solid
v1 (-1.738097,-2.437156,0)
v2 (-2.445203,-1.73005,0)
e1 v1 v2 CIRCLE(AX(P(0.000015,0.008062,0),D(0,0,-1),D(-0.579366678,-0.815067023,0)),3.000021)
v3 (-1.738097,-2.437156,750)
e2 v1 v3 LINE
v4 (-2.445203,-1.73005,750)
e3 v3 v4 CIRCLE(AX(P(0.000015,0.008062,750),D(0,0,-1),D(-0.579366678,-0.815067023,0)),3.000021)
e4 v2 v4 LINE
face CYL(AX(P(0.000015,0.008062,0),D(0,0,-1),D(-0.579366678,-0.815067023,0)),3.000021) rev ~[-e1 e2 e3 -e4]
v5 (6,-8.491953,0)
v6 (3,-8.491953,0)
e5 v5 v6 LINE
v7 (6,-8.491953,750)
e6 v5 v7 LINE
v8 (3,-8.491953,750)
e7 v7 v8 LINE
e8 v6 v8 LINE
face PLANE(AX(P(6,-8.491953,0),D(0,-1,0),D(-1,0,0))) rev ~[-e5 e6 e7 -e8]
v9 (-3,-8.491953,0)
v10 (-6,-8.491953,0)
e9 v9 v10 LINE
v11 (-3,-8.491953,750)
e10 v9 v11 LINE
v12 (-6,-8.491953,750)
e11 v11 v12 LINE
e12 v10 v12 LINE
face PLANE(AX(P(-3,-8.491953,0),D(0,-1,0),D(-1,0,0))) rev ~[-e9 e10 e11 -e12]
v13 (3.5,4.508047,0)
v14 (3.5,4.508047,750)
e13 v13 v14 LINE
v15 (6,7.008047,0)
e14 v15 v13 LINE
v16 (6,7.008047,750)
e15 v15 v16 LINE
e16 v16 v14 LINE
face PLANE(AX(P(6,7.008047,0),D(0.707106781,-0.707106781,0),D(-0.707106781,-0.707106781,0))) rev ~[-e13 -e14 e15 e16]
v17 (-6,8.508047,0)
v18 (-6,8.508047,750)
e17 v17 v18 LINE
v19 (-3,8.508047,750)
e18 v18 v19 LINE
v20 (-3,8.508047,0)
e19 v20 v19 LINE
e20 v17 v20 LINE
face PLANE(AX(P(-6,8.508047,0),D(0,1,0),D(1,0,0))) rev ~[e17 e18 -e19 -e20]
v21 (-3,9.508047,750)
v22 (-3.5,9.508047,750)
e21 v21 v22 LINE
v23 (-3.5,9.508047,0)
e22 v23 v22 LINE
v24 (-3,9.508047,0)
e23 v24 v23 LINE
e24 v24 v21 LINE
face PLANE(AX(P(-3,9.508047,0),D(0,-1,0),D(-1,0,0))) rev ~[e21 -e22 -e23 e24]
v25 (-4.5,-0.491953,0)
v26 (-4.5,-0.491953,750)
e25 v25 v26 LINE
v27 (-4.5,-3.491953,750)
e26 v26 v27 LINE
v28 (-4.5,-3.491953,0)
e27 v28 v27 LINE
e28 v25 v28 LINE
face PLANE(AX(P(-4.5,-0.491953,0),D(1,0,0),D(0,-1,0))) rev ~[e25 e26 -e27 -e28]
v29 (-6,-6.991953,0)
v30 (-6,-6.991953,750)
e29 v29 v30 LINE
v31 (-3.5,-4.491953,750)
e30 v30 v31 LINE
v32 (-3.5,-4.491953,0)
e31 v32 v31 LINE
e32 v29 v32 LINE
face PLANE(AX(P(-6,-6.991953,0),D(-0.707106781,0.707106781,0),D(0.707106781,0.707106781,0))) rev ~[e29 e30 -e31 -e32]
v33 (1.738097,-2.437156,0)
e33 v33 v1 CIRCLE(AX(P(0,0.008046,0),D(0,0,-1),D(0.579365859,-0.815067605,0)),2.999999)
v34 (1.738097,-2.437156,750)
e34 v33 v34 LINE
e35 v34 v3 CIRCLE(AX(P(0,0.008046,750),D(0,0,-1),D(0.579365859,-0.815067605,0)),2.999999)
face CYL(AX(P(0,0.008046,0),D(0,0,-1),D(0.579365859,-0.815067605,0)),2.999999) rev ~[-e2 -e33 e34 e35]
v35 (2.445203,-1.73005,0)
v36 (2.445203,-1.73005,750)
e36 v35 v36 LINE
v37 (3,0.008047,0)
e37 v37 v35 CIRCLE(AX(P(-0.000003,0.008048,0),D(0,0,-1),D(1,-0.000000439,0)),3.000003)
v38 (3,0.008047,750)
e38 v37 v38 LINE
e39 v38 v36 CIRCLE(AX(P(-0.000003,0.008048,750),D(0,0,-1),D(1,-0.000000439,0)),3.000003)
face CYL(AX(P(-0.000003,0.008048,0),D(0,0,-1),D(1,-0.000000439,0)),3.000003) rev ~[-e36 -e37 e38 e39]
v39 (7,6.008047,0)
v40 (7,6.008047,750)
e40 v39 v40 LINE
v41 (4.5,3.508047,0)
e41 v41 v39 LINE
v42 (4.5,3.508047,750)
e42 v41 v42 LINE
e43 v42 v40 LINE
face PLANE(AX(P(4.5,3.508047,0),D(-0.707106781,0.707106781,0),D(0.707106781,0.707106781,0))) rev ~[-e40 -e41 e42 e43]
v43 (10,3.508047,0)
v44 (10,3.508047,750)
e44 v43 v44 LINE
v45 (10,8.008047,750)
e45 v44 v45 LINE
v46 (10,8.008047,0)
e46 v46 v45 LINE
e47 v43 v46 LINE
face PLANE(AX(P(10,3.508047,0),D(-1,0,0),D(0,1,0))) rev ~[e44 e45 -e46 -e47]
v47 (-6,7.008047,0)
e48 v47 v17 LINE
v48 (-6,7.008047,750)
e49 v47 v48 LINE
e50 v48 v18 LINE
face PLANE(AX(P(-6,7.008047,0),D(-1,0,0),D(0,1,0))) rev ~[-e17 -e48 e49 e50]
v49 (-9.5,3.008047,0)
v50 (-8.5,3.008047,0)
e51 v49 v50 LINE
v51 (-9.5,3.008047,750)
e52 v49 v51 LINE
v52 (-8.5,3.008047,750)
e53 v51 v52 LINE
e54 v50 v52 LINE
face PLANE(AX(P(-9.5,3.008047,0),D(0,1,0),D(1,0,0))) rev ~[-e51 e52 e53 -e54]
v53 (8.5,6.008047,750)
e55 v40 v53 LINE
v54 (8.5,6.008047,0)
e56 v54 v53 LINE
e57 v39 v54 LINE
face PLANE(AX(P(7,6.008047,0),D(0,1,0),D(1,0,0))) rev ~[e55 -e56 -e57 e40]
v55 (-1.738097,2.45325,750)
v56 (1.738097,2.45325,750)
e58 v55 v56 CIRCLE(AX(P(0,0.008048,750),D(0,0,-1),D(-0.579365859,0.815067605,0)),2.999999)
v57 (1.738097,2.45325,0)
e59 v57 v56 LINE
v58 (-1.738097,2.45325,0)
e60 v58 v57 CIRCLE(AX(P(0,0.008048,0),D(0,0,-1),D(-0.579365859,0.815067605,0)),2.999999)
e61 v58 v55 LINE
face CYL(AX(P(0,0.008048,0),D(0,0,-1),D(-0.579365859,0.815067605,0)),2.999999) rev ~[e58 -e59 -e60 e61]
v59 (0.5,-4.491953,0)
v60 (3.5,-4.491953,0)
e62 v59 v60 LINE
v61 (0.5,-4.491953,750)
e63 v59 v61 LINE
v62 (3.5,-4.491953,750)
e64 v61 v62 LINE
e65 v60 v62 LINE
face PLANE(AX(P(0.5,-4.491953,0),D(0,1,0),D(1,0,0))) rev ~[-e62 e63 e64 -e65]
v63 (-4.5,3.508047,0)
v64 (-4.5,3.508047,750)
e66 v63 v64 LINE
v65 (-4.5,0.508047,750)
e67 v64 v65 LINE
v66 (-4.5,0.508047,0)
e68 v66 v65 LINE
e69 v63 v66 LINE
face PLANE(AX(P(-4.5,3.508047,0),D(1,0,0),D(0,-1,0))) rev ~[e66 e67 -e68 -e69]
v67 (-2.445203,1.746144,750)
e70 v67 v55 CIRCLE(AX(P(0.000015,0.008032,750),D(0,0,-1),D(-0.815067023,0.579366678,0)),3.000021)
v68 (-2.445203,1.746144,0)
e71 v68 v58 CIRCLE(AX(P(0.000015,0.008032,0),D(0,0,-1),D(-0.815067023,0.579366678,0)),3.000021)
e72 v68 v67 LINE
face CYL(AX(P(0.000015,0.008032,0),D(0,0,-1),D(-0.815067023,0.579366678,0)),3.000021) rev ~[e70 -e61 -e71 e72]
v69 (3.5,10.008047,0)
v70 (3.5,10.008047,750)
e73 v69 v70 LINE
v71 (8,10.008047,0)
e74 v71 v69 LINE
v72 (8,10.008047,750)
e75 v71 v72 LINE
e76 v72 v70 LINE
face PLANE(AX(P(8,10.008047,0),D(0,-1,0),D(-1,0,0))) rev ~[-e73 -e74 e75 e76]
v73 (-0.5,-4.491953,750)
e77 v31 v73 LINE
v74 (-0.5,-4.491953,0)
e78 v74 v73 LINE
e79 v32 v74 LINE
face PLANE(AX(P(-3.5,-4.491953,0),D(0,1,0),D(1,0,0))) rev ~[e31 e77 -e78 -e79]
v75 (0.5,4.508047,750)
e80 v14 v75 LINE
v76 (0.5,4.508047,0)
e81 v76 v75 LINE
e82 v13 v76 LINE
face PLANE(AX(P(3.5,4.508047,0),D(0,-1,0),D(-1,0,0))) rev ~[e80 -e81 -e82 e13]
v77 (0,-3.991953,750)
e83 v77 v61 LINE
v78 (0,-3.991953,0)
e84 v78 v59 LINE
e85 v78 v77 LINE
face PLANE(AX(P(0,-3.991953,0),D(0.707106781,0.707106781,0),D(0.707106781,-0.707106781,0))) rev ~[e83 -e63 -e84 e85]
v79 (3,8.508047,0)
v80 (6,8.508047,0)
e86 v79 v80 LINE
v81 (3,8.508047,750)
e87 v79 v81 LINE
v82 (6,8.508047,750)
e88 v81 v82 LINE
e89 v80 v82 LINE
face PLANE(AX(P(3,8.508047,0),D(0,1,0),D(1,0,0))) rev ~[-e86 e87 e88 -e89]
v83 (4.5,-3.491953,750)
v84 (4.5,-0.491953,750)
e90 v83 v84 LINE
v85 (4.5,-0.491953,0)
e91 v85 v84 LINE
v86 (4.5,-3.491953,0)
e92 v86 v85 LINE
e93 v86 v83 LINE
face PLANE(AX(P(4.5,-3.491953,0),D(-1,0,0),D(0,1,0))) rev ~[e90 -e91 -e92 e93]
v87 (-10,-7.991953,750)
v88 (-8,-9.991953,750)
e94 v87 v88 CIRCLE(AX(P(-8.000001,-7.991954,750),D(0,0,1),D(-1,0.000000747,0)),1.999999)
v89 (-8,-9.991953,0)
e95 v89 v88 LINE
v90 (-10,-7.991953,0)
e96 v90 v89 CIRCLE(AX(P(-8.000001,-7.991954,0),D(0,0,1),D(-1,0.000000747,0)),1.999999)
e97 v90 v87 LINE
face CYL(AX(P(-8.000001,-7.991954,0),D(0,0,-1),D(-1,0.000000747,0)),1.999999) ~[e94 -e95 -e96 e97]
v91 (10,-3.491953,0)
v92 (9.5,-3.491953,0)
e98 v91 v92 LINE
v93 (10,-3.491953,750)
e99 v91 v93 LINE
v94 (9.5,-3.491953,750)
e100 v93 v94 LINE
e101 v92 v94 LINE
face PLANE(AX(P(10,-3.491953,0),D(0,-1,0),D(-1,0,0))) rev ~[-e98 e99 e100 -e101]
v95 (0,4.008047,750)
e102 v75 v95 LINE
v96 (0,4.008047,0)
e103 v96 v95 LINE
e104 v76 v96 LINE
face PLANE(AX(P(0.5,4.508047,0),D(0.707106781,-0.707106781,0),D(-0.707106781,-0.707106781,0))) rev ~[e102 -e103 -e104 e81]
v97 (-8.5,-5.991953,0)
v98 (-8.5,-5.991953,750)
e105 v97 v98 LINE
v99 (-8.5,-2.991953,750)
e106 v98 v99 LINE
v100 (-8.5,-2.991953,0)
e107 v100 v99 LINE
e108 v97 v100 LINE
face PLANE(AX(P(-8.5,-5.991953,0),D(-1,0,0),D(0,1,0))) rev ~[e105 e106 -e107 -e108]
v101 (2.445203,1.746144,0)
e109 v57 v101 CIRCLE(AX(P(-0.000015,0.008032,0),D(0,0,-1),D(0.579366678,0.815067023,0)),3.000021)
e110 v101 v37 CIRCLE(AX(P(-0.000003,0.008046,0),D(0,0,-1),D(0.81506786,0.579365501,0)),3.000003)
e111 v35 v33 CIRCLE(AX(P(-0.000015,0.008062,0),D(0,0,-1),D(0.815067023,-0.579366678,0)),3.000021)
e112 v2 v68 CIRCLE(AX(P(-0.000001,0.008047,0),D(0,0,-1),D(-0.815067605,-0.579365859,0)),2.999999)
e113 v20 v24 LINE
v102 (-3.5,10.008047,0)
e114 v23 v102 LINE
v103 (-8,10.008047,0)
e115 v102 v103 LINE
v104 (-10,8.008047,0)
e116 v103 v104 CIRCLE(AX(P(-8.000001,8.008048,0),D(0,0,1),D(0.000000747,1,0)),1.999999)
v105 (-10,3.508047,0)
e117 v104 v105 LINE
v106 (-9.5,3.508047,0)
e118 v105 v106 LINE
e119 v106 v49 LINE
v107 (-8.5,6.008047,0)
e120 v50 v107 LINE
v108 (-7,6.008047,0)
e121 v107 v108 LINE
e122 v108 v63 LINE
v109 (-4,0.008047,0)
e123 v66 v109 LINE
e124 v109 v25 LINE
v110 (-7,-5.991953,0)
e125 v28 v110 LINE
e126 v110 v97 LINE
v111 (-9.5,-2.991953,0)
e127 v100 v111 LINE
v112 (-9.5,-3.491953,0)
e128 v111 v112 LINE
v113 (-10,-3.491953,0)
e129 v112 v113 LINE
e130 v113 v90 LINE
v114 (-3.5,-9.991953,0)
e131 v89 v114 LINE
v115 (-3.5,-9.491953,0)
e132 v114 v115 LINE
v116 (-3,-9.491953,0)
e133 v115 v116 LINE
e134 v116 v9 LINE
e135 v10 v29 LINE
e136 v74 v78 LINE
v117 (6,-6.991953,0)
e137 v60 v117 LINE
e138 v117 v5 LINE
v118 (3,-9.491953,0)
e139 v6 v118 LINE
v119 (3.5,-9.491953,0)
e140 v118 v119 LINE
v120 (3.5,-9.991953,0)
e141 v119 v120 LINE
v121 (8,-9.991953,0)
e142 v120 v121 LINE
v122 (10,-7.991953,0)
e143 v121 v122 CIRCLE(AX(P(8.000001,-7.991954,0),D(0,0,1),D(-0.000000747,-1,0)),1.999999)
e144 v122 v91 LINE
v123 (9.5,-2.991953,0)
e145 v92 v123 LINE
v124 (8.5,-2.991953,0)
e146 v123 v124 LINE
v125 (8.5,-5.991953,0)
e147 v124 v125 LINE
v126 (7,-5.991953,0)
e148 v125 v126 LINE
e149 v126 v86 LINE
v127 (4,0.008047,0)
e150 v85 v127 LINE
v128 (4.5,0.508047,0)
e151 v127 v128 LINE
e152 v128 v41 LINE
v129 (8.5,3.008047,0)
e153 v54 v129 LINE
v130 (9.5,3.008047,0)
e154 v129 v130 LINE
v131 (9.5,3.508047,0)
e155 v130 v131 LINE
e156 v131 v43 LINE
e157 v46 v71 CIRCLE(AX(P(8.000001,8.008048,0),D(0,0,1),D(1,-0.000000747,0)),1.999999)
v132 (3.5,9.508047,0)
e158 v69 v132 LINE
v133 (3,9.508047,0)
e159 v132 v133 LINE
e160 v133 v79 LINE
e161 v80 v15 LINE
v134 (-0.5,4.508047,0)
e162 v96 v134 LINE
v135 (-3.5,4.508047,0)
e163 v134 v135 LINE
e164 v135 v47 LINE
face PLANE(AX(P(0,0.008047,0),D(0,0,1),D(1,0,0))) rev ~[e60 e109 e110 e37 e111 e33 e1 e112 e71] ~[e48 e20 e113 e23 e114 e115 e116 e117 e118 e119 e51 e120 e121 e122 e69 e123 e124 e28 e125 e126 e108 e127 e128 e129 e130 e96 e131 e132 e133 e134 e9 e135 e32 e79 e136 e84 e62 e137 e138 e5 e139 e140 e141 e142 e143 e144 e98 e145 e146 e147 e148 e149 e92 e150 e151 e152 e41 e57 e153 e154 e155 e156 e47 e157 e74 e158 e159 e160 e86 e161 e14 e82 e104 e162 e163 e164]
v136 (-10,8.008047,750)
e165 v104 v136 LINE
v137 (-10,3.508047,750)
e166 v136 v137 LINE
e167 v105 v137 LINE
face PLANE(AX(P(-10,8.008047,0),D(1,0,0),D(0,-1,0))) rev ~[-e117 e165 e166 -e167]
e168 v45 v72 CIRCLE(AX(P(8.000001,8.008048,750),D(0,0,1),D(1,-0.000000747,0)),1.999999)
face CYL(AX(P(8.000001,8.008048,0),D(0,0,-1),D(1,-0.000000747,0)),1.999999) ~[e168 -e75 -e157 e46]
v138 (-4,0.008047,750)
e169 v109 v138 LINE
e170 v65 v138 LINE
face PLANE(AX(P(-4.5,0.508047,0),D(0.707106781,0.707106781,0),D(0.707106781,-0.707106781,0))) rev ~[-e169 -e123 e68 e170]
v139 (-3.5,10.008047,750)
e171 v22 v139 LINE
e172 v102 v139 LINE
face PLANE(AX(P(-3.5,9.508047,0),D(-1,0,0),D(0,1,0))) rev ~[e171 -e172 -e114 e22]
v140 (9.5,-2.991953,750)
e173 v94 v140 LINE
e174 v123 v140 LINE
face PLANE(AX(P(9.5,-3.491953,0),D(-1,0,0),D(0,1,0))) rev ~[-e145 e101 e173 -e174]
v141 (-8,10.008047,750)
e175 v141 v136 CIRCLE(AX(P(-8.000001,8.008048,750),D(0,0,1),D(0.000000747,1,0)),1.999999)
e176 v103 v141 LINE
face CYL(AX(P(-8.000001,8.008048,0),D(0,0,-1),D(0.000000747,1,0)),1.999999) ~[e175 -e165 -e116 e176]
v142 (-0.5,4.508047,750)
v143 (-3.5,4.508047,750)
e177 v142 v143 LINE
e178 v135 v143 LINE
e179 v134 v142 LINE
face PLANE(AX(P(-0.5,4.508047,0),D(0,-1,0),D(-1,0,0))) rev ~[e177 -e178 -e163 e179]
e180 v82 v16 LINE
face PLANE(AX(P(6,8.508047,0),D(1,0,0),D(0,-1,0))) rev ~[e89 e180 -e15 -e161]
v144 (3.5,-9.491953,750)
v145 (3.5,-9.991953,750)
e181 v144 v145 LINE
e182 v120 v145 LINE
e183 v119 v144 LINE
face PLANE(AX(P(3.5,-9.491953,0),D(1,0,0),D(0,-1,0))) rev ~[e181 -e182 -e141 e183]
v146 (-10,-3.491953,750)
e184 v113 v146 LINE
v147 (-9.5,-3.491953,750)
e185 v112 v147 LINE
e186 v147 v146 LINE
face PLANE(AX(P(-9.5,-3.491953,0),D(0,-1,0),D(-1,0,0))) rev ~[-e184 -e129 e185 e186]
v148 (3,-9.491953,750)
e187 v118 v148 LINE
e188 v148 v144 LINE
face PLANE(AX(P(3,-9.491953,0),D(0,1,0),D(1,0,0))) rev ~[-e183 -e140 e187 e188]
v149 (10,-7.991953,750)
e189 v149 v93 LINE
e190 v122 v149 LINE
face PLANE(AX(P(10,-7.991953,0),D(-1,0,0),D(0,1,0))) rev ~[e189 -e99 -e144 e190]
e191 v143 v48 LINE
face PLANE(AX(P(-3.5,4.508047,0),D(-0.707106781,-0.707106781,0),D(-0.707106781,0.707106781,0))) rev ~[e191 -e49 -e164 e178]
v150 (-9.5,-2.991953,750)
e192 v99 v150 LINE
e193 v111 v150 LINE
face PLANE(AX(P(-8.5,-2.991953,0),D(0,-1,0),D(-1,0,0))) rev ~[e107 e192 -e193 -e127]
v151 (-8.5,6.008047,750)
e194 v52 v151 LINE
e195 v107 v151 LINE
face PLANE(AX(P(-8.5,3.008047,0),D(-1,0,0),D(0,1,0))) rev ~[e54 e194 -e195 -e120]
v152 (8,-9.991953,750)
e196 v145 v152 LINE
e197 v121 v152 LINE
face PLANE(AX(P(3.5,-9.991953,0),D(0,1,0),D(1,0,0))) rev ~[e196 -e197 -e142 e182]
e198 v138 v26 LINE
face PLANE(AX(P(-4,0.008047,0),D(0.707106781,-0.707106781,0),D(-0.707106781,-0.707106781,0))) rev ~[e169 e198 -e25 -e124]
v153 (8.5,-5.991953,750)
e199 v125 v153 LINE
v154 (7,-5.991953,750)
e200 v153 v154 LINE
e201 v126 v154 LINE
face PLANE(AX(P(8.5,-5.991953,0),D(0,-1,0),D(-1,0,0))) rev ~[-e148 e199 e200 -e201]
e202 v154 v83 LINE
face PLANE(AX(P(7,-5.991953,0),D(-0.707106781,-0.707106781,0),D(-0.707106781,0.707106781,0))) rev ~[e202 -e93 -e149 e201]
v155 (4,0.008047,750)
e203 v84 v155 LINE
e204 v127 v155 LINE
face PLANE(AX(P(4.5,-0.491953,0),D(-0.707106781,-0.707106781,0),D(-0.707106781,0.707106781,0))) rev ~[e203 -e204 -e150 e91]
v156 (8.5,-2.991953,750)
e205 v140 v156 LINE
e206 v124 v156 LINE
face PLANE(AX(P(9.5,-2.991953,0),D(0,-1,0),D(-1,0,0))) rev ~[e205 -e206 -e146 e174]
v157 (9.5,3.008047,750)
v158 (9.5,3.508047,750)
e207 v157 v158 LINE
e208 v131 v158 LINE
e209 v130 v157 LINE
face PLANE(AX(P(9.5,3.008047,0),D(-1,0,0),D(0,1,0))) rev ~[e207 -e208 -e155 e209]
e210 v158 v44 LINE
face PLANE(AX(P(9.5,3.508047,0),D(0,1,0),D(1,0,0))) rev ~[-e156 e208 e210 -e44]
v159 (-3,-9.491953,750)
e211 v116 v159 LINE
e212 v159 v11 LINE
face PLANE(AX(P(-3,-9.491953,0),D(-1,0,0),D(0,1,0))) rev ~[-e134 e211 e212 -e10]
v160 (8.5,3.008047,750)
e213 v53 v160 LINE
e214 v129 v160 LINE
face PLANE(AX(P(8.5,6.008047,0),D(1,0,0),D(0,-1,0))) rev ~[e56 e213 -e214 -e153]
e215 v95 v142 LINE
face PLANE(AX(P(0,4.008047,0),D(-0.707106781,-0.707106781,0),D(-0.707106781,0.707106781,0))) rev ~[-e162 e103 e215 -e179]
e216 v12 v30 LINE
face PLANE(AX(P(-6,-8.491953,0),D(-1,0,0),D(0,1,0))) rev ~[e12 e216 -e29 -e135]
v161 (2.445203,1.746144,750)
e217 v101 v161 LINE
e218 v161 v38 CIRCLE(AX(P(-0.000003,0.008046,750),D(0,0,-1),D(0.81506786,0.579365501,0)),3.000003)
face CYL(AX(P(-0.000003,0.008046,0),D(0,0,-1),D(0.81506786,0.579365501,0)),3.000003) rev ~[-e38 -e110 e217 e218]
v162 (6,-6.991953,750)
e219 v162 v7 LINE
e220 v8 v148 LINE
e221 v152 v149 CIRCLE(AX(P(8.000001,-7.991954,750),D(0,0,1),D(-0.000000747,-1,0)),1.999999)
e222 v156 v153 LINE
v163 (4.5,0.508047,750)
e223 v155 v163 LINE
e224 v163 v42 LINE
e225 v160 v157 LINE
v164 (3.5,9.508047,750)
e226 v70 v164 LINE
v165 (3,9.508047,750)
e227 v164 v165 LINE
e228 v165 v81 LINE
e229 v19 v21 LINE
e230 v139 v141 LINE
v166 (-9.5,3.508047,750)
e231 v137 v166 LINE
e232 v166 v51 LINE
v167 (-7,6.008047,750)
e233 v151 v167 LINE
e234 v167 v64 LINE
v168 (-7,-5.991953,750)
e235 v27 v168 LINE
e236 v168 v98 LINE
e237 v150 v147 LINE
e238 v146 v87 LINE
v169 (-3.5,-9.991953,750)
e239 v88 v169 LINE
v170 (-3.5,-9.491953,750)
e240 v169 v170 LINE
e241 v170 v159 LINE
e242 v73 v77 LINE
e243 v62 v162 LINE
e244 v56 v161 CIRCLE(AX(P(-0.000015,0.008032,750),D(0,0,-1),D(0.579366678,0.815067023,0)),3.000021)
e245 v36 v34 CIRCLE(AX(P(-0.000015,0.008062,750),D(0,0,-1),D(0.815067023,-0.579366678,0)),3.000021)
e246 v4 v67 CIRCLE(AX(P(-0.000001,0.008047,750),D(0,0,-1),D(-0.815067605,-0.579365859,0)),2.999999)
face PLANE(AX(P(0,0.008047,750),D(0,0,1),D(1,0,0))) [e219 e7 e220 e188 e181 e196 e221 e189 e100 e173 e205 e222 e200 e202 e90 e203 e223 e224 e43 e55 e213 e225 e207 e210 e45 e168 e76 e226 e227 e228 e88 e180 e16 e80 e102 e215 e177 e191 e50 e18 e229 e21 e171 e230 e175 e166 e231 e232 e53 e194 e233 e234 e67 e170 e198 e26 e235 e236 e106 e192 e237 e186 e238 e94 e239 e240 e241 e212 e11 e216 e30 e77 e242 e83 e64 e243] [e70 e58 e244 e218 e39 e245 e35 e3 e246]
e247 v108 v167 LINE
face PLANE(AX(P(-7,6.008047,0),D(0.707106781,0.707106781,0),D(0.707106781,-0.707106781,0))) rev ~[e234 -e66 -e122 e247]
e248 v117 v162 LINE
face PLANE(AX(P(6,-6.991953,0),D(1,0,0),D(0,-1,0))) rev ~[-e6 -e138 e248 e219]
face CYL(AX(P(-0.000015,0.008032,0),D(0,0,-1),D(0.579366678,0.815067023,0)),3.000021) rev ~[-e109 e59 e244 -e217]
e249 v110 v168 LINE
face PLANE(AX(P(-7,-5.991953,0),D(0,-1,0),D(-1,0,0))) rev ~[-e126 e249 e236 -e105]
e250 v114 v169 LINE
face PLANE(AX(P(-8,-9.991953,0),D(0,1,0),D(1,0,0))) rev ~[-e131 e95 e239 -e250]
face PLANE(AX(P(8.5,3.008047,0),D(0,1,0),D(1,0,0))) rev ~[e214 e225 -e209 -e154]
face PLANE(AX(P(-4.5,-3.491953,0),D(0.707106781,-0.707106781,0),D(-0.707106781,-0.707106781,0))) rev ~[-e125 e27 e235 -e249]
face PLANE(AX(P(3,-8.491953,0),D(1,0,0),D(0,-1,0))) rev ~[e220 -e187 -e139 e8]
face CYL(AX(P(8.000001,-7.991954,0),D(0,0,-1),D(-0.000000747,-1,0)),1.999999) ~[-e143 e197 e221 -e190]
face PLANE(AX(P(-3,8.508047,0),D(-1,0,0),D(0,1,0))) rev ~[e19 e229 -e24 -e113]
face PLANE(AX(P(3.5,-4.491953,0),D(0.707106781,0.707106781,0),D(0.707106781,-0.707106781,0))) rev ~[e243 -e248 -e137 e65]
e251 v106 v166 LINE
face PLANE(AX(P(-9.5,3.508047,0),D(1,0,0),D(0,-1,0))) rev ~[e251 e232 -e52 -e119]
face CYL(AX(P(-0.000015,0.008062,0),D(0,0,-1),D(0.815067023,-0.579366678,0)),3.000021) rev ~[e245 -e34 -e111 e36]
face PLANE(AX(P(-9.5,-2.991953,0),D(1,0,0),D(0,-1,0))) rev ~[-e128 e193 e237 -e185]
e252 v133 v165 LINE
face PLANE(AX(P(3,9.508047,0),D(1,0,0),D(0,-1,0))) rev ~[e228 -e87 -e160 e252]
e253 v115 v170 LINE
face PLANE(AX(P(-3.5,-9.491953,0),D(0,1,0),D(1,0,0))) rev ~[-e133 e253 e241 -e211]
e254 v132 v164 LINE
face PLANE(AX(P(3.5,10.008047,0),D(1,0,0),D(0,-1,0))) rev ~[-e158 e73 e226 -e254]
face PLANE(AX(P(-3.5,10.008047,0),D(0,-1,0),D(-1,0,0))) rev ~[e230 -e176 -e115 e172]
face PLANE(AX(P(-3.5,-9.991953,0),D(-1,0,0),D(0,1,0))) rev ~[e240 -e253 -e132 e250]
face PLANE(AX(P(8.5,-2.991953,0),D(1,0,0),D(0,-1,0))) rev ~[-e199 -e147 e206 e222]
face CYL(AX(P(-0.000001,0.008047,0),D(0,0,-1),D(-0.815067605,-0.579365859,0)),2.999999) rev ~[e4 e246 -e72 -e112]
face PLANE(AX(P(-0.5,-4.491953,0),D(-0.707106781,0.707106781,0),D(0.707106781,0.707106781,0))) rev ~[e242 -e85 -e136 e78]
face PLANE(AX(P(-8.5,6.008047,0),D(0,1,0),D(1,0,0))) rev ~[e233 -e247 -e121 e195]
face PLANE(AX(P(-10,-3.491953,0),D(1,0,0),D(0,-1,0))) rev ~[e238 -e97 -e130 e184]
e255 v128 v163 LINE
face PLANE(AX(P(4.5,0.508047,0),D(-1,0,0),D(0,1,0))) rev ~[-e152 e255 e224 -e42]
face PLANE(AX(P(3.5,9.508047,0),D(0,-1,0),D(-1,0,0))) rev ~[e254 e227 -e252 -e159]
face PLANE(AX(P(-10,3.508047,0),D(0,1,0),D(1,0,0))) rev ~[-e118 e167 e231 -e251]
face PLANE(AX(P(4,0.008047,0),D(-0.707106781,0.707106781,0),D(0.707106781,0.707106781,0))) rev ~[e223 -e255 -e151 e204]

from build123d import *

# Parameters (mm, degrees)
F1_DEPTH = 750


with BuildPart() as f1:
    # F0 (on Top) → F1 (new body)
    with BuildSketch(Plane.XY):
        with BuildLine():
            ThreePointArc((-10, -7.991953), (-9.414214, -9.406167), (-8, -9.991953))
            Line((-8, -9.991953), (-3.5, -9.991953))
            Line((-3.5, -9.991953), (-3.5, -9.491953))
            Line((-3.5, -9.491953), (-3, -9.491953))
            Line((-3, -9.491953), (-3, -8.491953))
            Line((-3, -8.491953), (-6, -8.491953))
            Line((-6, -8.491953), (-6, -6.991953))
            Line((-6, -6.991953), (-3.5, -4.491953))
            Line((-3.5, -4.491953), (-0.5, -4.491953))
            Line((-0.5, -4.491953), (0, -3.991953))
            Line((0, -3.991953), (0.5, -4.491953))
            Line((0.5, -4.491953), (3.5, -4.491953))
            Line((3.5, -4.491953), (6, -6.991953))
            Line((6, -6.991953), (6, -8.491953))
            Line((6, -8.491953), (3, -8.491953))
            Line((3, -8.491953), (3, -9.491953))
            Line((3, -9.491953), (3.5, -9.491953))
            Line((3.5, -9.491953), (3.5, -9.991953))
            Line((3.5, -9.991953), (8, -9.991953))
            ThreePointArc((8, -9.991953), (9.414214, -9.406167), (10, -7.991953))
            Line((10, -7.991953), (10, -3.491953))
            Line((10, -3.491953), (9.5, -3.491953))
            Line((9.5, -3.491953), (9.5, -2.991953))
            Line((9.5, -2.991953), (8.5, -2.991953))
            Line((8.5, -2.991953), (8.5, -5.991953))
            Line((8.5, -5.991953), (7, -5.991953))
            Line((7, -5.991953), (4.5, -3.491953))
            Line((4.5, -3.491953), (4.5, -0.491953))
            Line((4.5, -0.491953), (4, 0.008047))
            Line((4, 0.008047), (4.5, 0.508047))
            Line((4.5, 0.508047), (4.5, 3.508047))
            Line((4.5, 3.508047), (7, 6.008047))
            Line((7, 6.008047), (8.5, 6.008047))
            Line((8.5, 6.008047), (8.5, 3.008047))
            Line((8.5, 3.008047), (9.5, 3.008047))
            Line((9.5, 3.008047), (9.5, 3.508047))
            Line((9.5, 3.508047), (10, 3.508047))
            Line((10, 3.508047), (10, 8.008047))
            ThreePointArc((10, 8.008047), (9.414214, 9.422261), (8, 10.008047))
            Line((8, 10.008047), (3.5, 10.008047))
            Line((3.5, 10.008047), (3.5, 9.508047))
            Line((3.5, 9.508047), (3, 9.508047))
            Line((3, 9.508047), (3, 8.508047))
            Line((3, 8.508047), (6, 8.508047))
            Line((6, 8.508047), (6, 7.008047))
            Line((6, 7.008047), (3.5, 4.508047))
            Line((3.5, 4.508047), (0.5, 4.508047))
            Line((0.5, 4.508047), (0, 4.008047))
            Line((0, 4.008047), (-0.5, 4.508047))
            Line((-0.5, 4.508047), (-3.5, 4.508047))
            Line((-3.5, 4.508047), (-6, 7.008047))
            Line((-6, 7.008047), (-6, 8.508047))
            Line((-6, 8.508047), (-3, 8.508047))
            Line((-3, 8.508047), (-3, 9.508047))
            Line((-3, 9.508047), (-3.5, 9.508047))
            Line((-3.5, 9.508047), (-3.5, 10.008047))
            Line((-3.5, 10.008047), (-8, 10.008047))
            ThreePointArc((-8, 10.008047), (-9.414214, 9.422261), (-10, 8.008047))
            Line((-10, 8.008047), (-10, 3.508047))
            Line((-10, 3.508047), (-9.5, 3.508047))
            Line((-9.5, 3.508047), (-9.5, 3.008047))
            Line((-9.5, 3.008047), (-8.5, 3.008047))
            Line((-8.5, 3.008047), (-8.5, 6.008047))
            Line((-8.5, 6.008047), (-7, 6.008047))
            Line((-7, 6.008047), (-4.5, 3.508047))
            Line((-4.5, 3.508047), (-4.5, 0.508047))
            Line((-4.5, 0.508047), (-4, 0.008047))
            Line((-4, 0.008047), (-4.5, -0.491953))
            Line((-4.5, -0.491953), (-4.5, -3.491953))
            Line((-4.5, -3.491953), (-7, -5.991953))
            Line((-7, -5.991953), (-8.5, -5.991953))
            Line((-8.5, -5.991953), (-8.5, -2.991953))
            Line((-8.5, -2.991953), (-9.5, -2.991953))
            Line((-9.5, -2.991953), (-9.5, -3.491953))
            Line((-9.5, -3.491953), (-10, -3.491953))
            Line((-10, -3.491953), (-10, -7.991953))
        make_face()
        with BuildLine():
            ThreePointArc((2.445203, 1.746144), (2.857937, 0.920294), (3, 0.008047))
            ThreePointArc((3, 0.008047), (2.857937, -0.9042), (2.445203, -1.73005))
            ThreePointArc((2.445203, -1.73005), (2.12132, -2.113273), (1.738097, -2.437156))
            ThreePointArc((1.738097, -2.437156), (0, -2.991953), (-1.738097, -2.437156))
            ThreePointArc((-1.738097, -2.437156), (-2.12132, -2.113273), (-2.445203, -1.73005))
            ThreePointArc((-2.445203, -1.73005), (-3, 0.008047), (-2.445203, 1.746144))
            ThreePointArc((-2.445203, 1.746144), (-2.12132, 2.129367), (-1.738097, 2.45325))
            ThreePointArc((-1.738097, 2.45325), (0, 3.008047), (1.738097, 2.45325))
            ThreePointArc((1.738097, 2.45325), (2.12132, 2.129367), (2.445203, 1.746144))
        make_face(mode=Mode.SUBTRACT)
    extrude(amount=F1_DEPTH)


solid = f1.part
